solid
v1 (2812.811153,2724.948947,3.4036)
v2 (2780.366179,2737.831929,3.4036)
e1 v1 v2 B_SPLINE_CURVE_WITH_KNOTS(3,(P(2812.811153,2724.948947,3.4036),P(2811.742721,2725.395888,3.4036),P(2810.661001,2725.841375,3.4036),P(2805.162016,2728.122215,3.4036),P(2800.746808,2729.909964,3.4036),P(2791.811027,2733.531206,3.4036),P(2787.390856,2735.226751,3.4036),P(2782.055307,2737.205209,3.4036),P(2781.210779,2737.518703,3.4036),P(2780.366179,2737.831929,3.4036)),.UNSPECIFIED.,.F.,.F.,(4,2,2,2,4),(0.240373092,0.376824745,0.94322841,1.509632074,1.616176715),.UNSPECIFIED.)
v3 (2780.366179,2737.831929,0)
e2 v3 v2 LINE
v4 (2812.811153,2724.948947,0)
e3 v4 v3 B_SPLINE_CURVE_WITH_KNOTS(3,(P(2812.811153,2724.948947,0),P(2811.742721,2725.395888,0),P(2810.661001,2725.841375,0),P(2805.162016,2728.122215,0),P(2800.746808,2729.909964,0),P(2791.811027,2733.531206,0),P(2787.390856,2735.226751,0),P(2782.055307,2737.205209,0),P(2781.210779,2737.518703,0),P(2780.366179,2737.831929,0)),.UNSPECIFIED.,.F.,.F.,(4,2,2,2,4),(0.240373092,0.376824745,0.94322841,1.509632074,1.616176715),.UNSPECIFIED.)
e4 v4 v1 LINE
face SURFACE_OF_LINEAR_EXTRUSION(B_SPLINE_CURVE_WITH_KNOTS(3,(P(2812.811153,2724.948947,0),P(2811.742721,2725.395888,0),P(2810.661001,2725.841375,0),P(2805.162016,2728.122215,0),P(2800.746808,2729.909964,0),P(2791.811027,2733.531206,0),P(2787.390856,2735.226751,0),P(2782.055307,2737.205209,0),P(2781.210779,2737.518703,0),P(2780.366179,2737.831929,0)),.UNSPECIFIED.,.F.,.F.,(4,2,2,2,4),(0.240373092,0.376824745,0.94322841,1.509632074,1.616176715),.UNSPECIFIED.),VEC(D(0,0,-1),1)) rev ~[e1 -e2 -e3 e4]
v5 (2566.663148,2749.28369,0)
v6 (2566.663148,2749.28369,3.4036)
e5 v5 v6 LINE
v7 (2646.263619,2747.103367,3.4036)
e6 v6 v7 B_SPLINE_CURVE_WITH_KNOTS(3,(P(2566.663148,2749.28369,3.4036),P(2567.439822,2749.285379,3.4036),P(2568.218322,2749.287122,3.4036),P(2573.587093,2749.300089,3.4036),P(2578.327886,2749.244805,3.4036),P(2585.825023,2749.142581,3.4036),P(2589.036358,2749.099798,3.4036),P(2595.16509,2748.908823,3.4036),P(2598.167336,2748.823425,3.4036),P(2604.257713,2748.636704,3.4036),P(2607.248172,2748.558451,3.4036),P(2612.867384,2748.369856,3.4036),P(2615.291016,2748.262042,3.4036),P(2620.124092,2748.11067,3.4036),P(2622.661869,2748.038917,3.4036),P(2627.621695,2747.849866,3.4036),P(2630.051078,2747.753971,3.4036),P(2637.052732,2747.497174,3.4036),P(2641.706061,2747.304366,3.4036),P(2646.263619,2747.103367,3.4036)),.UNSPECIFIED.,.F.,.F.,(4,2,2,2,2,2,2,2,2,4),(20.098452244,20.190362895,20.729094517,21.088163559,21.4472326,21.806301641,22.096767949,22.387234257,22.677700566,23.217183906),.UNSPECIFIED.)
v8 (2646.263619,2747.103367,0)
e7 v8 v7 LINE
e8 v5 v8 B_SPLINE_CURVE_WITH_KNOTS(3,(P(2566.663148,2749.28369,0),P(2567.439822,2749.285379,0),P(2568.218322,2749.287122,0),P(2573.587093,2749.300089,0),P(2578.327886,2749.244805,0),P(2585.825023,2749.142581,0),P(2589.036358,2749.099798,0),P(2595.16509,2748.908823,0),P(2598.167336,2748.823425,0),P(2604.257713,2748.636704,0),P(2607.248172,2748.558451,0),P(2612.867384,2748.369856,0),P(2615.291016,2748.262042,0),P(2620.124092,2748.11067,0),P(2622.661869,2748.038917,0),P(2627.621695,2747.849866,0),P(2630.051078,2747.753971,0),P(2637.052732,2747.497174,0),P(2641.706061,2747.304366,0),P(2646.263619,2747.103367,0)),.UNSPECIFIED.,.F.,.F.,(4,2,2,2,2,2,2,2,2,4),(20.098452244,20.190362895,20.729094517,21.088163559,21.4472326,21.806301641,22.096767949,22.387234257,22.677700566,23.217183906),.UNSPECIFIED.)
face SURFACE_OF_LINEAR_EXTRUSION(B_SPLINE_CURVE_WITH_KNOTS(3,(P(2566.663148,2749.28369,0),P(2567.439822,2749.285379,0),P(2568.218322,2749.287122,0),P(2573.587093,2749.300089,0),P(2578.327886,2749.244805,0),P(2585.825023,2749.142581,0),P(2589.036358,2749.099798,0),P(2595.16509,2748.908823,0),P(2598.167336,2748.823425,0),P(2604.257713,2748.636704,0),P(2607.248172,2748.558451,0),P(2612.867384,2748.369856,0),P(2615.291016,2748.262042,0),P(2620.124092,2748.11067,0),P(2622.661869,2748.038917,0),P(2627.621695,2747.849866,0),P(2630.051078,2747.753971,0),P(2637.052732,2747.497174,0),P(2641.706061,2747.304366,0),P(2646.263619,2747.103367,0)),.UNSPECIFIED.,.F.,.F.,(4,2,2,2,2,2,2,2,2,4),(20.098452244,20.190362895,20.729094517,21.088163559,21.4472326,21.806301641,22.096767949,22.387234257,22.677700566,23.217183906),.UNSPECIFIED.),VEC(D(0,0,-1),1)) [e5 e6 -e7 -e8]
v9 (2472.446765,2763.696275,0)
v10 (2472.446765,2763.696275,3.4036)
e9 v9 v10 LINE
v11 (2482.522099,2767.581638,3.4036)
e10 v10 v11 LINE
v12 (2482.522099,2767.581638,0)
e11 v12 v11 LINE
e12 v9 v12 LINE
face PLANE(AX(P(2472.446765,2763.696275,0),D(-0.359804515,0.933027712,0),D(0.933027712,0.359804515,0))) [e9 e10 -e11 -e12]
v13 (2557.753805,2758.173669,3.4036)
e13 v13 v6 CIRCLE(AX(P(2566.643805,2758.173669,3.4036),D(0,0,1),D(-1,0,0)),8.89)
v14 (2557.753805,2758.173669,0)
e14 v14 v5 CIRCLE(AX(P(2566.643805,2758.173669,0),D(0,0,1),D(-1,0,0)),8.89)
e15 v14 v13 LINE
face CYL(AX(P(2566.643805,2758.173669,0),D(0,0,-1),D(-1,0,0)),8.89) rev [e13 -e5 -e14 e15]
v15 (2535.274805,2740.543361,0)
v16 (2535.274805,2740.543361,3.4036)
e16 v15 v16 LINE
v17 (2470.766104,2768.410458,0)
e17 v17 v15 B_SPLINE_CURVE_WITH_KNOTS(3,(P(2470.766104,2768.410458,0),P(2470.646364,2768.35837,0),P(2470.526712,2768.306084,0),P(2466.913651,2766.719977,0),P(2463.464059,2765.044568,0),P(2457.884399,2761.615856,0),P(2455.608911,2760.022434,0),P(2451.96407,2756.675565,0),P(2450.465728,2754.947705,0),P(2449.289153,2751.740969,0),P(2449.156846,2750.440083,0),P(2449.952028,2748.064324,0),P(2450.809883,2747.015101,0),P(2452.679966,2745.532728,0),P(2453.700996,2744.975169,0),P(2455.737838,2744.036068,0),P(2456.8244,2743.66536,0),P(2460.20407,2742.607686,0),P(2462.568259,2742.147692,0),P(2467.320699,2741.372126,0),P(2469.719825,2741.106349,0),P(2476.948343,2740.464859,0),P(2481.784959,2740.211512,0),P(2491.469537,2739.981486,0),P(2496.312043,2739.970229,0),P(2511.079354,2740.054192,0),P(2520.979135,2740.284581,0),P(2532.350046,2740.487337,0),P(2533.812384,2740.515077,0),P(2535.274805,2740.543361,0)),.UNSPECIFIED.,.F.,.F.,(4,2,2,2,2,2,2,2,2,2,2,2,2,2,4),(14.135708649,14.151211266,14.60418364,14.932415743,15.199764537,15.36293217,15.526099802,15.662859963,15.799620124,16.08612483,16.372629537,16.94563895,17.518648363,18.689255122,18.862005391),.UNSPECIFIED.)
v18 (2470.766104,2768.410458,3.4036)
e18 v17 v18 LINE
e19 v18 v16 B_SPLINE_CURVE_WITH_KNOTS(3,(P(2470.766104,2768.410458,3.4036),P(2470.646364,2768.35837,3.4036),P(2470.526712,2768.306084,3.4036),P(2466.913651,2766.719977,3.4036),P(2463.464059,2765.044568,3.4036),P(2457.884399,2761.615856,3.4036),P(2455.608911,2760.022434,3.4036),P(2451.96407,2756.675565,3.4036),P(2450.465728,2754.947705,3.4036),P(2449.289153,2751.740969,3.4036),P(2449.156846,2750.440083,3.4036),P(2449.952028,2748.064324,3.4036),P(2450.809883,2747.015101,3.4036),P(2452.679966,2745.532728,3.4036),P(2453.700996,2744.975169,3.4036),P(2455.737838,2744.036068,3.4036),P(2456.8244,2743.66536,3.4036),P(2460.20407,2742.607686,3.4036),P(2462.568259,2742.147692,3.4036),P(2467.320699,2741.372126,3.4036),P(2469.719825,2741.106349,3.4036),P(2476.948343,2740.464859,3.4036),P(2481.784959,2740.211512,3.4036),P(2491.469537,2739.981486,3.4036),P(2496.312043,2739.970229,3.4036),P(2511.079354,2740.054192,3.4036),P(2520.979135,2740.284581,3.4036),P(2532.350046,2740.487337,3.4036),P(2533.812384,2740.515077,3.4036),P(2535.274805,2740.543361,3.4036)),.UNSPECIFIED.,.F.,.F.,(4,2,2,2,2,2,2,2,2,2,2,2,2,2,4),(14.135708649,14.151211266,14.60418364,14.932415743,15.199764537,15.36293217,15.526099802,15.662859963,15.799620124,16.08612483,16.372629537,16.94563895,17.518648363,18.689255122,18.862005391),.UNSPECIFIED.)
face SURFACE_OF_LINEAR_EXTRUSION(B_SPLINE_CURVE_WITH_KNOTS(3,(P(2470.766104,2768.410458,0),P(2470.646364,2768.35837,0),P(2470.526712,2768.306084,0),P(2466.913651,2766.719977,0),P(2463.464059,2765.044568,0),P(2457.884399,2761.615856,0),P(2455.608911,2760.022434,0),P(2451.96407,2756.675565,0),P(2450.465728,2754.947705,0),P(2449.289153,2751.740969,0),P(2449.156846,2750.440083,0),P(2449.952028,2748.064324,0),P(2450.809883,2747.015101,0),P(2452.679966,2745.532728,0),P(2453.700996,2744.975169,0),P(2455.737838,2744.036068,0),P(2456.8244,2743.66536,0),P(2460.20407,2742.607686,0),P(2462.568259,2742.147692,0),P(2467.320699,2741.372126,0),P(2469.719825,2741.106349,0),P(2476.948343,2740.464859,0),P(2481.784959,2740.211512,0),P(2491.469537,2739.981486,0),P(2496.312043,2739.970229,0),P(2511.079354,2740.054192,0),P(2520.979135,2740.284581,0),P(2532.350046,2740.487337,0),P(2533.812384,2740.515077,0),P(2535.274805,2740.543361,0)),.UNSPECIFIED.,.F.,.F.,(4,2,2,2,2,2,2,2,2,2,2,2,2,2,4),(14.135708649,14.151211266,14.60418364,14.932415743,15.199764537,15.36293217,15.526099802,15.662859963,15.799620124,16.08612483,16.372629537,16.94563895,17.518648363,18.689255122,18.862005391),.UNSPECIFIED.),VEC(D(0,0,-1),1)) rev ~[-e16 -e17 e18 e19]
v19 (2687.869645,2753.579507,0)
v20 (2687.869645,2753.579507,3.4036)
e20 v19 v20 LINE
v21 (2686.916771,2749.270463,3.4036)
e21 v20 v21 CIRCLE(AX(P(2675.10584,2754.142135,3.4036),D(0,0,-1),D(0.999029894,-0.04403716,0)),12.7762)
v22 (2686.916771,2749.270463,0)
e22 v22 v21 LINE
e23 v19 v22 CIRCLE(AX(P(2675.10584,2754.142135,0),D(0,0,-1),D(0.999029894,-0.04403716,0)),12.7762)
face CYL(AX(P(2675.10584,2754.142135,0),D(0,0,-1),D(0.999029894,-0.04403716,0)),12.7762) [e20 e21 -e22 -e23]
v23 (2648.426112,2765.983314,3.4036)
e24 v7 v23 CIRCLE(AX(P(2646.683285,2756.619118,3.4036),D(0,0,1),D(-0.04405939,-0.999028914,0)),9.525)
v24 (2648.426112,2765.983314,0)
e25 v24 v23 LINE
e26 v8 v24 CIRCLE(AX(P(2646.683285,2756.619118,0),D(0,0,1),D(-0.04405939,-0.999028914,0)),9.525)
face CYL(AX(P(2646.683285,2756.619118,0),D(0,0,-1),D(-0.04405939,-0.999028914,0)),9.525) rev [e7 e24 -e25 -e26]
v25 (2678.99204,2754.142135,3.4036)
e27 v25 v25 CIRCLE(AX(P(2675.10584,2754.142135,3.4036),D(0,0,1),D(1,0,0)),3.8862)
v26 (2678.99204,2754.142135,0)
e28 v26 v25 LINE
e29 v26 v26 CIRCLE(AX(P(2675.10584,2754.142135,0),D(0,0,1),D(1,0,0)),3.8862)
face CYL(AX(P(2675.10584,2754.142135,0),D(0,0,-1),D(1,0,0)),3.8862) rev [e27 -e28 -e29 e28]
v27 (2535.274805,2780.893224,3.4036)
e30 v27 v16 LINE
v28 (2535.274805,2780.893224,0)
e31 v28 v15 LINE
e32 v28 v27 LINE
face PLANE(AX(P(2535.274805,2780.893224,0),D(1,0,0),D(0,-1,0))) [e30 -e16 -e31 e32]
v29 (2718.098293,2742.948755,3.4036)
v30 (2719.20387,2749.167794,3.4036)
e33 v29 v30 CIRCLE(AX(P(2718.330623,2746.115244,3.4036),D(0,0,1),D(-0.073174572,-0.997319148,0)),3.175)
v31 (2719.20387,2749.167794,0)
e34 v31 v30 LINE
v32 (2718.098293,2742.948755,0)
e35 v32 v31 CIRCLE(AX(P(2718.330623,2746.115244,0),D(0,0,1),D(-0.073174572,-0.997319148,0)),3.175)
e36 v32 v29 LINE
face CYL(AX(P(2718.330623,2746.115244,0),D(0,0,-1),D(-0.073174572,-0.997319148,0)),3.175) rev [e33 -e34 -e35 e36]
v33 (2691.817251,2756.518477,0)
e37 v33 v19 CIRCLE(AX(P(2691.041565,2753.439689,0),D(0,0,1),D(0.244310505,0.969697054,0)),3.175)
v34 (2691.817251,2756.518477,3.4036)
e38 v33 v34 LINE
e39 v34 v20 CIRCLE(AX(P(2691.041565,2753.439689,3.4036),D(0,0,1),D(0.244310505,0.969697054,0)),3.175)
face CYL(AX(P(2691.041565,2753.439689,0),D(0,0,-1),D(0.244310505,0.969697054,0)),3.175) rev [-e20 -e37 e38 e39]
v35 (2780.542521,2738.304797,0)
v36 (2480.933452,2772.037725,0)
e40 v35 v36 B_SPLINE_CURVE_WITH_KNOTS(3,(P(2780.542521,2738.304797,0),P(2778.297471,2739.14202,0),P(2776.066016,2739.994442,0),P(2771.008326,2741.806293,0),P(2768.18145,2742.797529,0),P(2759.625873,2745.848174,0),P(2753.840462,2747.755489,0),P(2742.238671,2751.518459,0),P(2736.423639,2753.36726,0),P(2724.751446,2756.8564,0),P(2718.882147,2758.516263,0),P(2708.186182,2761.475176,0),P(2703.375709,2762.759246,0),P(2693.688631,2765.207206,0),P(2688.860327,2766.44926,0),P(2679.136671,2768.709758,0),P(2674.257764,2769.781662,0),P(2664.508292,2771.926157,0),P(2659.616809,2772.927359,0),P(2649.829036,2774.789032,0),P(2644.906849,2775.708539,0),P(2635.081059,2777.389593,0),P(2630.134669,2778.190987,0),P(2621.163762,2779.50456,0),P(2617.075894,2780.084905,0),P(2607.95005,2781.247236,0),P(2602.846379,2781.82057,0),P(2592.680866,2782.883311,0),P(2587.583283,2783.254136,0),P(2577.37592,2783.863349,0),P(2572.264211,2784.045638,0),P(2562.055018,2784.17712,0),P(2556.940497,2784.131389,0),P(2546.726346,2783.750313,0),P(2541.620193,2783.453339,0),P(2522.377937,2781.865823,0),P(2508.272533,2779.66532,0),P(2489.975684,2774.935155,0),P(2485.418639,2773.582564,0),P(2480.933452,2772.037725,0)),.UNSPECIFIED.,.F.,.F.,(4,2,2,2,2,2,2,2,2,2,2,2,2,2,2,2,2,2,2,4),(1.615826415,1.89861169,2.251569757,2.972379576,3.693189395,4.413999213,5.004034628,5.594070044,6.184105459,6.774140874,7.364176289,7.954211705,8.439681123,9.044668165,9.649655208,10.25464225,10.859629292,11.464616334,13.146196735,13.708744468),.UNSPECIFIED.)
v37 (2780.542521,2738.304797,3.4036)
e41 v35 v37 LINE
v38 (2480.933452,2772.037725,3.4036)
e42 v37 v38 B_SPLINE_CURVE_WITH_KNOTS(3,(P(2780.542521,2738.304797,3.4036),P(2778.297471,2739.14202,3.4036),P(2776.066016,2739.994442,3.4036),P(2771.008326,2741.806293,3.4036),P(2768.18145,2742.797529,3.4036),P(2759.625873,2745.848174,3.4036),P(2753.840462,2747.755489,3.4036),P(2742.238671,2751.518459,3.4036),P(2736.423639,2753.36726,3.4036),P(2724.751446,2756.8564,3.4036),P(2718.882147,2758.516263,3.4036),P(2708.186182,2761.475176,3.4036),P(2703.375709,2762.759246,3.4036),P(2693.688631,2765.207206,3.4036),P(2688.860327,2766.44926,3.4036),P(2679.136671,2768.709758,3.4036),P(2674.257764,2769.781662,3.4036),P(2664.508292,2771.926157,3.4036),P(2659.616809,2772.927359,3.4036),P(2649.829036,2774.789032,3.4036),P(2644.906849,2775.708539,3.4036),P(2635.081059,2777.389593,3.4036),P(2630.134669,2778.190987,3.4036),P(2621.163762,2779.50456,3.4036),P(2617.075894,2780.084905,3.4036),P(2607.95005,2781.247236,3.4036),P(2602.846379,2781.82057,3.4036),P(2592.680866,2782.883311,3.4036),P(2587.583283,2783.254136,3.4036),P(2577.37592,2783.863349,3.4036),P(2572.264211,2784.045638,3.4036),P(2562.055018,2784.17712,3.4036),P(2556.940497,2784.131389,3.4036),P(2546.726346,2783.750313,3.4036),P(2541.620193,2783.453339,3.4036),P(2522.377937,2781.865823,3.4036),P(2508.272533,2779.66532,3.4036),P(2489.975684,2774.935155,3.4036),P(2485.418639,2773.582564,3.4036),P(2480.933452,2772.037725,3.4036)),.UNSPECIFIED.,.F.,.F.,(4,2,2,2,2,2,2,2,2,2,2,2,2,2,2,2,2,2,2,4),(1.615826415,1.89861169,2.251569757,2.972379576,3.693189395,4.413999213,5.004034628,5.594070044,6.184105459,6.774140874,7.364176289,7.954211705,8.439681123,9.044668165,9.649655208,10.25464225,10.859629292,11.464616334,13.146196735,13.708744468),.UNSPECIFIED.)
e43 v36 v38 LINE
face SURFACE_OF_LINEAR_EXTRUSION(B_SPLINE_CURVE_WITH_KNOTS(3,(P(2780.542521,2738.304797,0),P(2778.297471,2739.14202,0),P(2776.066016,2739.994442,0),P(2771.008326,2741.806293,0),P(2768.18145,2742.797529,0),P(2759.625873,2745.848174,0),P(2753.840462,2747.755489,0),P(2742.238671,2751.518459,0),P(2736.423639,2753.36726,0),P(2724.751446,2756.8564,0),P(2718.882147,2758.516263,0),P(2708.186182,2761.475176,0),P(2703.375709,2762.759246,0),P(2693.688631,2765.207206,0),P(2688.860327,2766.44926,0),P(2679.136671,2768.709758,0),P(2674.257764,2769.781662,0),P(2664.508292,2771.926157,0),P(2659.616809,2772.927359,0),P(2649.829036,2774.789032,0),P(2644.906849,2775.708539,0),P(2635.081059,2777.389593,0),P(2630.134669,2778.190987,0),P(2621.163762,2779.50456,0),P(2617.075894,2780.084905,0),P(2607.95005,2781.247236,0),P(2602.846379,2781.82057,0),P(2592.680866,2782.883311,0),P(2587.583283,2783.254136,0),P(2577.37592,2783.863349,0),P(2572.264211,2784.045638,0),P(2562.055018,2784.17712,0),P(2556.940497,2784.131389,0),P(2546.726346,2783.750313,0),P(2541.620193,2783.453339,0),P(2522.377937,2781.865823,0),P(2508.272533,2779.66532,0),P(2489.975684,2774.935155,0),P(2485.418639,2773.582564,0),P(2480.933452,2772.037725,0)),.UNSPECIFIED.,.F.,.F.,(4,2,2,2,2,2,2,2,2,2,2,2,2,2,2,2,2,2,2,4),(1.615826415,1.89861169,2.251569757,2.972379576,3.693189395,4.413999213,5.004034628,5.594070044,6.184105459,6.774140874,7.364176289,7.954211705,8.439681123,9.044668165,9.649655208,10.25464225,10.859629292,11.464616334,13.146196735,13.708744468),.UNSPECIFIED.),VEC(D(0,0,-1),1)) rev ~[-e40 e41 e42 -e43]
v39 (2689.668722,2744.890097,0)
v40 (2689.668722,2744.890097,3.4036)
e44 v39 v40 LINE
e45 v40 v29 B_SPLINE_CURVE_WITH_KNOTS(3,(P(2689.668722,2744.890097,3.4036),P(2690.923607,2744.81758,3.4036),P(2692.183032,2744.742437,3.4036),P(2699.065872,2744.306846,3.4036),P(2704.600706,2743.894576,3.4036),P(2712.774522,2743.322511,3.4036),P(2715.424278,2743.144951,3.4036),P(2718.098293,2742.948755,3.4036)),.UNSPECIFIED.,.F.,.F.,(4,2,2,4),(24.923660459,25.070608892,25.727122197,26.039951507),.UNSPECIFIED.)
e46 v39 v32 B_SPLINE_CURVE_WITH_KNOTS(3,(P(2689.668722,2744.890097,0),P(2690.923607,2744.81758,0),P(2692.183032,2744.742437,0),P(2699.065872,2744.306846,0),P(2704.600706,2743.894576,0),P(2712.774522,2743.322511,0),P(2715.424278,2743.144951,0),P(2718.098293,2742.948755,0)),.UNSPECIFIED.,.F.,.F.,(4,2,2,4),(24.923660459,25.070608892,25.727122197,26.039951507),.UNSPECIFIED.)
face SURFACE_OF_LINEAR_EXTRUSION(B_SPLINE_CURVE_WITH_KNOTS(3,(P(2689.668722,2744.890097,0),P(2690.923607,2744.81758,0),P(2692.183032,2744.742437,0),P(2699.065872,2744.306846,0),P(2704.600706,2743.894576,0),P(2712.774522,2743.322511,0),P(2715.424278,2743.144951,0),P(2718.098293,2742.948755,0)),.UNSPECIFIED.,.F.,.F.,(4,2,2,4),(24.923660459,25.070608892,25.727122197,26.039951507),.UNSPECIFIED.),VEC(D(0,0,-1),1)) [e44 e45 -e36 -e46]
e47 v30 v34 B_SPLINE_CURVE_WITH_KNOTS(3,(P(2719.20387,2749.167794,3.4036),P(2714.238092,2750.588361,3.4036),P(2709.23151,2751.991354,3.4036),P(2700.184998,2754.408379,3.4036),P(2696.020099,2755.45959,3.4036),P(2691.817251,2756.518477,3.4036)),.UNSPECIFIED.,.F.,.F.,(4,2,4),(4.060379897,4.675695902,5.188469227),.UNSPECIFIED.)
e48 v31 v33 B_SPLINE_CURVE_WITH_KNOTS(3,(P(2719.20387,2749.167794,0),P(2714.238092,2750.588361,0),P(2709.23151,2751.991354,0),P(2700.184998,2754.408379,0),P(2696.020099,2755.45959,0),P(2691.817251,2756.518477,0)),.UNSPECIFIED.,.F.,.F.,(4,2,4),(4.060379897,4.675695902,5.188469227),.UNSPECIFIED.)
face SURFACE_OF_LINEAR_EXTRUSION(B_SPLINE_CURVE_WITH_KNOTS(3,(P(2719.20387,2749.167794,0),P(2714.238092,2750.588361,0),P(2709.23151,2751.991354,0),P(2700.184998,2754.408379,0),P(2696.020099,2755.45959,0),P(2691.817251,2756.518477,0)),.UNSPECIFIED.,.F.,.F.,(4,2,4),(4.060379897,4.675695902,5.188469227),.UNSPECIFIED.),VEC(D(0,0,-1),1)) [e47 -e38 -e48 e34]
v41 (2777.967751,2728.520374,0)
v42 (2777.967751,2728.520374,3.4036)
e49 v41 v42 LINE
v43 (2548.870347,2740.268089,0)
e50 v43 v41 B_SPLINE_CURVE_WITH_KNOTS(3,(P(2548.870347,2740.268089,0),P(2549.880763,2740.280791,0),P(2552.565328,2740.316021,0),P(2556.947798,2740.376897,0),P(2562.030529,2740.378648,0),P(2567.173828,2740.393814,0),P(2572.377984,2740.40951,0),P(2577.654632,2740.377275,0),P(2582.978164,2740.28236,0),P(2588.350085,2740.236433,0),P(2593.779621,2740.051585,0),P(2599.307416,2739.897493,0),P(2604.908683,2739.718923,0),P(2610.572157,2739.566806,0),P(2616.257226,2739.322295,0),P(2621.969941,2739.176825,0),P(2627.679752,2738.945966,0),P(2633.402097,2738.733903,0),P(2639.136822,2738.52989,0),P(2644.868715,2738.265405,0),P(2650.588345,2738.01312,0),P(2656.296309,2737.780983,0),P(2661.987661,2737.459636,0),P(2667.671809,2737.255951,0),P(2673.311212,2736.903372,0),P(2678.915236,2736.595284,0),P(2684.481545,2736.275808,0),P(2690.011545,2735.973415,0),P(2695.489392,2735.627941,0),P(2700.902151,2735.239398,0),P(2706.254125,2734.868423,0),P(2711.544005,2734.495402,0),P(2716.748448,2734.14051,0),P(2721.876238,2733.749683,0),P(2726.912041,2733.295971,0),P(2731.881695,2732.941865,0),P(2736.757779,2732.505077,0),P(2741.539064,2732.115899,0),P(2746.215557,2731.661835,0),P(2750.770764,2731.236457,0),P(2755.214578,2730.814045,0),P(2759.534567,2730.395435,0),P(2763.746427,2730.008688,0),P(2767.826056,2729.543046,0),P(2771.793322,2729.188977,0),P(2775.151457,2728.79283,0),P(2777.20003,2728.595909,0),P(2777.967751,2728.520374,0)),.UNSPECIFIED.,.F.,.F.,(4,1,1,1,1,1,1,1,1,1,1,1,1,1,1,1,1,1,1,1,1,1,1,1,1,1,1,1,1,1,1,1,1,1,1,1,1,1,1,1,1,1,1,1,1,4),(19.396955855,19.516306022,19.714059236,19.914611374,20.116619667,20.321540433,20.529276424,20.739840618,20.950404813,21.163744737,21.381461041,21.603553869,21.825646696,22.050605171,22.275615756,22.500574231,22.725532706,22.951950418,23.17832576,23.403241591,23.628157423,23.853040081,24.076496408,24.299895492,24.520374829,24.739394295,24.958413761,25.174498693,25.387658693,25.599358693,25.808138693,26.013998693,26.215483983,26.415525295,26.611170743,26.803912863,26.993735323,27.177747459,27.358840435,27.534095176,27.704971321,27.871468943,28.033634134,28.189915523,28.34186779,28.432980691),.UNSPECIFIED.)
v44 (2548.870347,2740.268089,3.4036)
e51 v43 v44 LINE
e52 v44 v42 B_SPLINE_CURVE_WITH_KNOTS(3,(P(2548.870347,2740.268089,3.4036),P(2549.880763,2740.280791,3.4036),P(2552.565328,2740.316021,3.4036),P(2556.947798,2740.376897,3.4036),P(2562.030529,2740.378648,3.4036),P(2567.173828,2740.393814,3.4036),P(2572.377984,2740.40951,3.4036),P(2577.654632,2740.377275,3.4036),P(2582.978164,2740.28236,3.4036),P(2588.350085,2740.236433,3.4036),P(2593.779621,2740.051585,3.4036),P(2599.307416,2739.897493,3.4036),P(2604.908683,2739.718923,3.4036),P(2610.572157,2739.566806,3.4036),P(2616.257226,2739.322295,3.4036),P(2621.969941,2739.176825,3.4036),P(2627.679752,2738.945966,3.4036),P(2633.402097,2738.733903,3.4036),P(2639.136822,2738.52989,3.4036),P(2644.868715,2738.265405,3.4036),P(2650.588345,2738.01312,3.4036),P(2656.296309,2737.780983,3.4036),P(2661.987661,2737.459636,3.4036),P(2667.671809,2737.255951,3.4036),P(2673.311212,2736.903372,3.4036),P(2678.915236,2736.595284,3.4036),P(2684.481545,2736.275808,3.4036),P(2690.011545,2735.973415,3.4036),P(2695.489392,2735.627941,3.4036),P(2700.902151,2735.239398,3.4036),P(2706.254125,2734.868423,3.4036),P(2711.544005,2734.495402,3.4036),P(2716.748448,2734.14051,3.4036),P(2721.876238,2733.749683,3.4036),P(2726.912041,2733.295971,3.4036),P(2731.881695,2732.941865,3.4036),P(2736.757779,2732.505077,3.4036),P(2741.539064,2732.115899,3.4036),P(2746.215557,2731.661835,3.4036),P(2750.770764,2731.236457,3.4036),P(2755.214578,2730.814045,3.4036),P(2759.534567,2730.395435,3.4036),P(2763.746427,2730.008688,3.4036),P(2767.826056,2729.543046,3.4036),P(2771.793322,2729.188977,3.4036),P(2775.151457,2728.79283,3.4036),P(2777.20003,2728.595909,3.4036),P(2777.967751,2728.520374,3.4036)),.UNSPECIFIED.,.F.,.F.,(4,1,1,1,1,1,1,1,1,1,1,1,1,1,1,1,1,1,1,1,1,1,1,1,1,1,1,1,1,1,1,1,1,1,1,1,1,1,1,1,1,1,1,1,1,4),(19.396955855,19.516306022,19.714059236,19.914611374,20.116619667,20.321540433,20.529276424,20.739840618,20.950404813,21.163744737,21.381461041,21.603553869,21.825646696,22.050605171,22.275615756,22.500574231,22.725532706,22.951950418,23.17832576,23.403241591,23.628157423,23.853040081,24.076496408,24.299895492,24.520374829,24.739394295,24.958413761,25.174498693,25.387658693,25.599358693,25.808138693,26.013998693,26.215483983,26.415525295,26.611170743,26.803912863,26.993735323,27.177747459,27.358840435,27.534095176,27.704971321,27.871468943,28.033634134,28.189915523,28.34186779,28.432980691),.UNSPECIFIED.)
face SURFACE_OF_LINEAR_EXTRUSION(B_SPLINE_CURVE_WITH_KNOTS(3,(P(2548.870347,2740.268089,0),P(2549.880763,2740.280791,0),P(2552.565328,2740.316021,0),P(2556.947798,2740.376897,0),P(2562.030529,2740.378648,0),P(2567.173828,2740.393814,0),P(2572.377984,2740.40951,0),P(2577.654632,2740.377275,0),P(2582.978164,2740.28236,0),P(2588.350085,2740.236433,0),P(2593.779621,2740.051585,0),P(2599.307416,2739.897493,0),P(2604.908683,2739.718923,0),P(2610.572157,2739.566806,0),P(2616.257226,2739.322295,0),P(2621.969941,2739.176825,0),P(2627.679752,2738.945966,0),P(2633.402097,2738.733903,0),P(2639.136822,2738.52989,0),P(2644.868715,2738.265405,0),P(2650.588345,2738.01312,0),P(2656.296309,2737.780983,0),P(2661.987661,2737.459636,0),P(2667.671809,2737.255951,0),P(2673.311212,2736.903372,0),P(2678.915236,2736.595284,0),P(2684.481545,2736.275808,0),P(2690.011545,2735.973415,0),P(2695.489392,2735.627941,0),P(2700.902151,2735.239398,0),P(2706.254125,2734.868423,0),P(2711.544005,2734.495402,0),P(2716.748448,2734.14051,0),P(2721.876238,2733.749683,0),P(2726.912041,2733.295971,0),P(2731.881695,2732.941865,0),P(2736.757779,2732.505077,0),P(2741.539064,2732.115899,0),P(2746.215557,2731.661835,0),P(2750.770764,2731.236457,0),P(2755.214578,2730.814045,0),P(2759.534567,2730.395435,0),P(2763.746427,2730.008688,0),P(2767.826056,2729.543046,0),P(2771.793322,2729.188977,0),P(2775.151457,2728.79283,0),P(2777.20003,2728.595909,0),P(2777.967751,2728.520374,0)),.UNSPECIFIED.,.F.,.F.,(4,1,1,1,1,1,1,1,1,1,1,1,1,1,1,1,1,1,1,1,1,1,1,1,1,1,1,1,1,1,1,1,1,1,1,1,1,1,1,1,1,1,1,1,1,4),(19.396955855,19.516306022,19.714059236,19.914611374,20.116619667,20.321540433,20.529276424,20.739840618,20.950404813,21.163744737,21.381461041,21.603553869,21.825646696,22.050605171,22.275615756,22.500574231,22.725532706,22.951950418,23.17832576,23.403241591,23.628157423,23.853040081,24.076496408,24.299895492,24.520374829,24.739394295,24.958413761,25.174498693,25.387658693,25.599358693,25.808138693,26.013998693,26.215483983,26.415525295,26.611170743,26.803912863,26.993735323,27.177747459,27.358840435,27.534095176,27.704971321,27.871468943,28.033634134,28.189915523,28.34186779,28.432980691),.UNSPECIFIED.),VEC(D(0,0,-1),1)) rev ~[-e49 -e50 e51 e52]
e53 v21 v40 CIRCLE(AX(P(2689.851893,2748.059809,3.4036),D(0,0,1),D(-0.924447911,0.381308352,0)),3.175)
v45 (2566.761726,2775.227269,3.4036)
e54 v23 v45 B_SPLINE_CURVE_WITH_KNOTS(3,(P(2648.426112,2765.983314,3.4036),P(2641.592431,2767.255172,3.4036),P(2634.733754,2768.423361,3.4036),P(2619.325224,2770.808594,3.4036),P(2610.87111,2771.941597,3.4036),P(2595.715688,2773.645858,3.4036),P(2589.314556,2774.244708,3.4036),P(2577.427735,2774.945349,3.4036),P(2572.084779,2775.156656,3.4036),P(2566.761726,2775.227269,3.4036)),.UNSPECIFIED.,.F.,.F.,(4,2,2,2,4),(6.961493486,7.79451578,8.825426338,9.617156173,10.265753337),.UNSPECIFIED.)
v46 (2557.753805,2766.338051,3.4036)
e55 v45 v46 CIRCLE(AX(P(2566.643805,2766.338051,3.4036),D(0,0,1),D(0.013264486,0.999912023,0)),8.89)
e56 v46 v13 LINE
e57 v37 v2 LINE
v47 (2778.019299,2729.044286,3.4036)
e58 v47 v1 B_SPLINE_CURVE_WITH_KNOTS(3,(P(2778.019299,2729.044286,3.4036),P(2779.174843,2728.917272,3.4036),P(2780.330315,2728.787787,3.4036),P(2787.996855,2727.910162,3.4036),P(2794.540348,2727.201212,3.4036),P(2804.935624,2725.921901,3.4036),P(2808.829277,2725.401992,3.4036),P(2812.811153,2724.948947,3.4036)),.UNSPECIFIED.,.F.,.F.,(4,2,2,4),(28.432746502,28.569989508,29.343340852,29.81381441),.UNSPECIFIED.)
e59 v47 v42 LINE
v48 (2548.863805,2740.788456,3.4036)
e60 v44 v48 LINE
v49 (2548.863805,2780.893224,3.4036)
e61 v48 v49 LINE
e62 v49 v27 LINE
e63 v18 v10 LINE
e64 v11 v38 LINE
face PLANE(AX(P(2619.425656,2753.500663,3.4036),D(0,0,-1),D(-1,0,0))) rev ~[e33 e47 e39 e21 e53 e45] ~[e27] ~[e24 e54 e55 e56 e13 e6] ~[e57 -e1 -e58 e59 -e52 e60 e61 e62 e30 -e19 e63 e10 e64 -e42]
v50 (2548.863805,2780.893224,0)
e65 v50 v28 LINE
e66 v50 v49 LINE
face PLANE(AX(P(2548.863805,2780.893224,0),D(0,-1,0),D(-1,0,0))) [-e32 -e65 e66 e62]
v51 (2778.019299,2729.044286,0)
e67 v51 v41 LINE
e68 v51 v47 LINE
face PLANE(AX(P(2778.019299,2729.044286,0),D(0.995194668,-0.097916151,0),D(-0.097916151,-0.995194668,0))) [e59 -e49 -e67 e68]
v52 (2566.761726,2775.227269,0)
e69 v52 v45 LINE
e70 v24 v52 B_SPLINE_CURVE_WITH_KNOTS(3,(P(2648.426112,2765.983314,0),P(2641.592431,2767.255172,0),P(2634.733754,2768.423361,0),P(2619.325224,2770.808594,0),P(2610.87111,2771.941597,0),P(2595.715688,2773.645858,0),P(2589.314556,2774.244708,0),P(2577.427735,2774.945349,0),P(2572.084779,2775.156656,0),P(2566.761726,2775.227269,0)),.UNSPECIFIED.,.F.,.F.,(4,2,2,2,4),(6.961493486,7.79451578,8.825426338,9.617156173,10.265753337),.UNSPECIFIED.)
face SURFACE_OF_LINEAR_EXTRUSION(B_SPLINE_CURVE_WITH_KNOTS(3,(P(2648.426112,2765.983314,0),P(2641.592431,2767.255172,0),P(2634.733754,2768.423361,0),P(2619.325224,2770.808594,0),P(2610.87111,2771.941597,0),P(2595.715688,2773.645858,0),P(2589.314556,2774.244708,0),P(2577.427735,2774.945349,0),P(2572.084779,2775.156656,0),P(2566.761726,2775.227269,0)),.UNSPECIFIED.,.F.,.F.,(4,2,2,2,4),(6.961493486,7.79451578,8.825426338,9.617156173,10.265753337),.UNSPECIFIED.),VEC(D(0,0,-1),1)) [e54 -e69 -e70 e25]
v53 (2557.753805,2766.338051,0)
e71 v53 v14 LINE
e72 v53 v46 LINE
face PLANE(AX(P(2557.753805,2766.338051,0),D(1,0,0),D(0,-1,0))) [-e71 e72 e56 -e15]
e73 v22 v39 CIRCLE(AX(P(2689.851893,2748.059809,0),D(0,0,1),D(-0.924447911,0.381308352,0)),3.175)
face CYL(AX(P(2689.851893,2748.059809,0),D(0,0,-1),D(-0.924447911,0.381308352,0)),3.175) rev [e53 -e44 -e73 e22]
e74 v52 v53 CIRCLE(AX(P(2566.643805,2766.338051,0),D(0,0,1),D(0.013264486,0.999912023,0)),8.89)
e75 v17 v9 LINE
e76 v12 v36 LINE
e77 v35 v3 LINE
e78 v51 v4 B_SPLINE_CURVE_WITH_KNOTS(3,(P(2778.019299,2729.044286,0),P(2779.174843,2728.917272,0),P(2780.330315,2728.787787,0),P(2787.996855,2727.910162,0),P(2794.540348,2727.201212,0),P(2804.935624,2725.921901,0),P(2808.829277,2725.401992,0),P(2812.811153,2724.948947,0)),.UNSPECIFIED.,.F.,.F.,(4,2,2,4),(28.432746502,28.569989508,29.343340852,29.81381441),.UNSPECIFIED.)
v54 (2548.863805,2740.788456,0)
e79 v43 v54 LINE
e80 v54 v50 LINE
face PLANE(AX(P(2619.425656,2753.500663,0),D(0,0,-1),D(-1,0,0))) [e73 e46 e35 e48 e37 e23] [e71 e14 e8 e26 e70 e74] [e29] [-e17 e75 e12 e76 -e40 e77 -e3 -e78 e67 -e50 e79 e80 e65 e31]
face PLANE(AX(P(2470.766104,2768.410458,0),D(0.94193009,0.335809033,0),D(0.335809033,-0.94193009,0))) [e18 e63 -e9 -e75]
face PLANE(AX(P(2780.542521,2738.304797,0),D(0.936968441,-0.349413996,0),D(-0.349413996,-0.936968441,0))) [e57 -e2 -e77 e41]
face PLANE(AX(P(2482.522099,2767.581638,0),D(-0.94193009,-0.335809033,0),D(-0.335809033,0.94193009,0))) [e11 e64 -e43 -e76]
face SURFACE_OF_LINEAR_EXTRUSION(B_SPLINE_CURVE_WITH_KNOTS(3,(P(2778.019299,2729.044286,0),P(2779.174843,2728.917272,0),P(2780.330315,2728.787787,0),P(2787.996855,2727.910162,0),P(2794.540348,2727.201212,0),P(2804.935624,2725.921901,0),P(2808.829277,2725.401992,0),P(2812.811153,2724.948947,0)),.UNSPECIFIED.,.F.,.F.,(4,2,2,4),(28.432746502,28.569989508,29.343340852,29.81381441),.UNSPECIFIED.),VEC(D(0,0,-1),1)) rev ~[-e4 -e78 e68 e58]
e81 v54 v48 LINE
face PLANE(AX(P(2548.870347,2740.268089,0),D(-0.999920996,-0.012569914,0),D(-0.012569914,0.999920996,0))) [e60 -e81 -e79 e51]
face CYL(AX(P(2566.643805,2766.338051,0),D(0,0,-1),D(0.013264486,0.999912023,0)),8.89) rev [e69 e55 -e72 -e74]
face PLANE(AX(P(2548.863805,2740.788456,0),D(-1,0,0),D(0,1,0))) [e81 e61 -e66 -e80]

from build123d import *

# Parameters (mm, degrees)
BOSS_EXTRUDE1_DEPTH = 3.4036


with BuildPart() as part:
    # Sketch2 → Boss-Extrude1 (new body)
    with BuildSketch(Plane.XY):
        with BuildLine():
            Line((2535.274805049, 2780.893223643), (2535.274805049, 2740.543361122))
            add(Edge.make_bspline(
                [(2470.766103702, 2768.410457858), (2470.646363815, 2768.358370186), (2470.526712246, 2768.306083676), (2466.913650609, 2766.719977087), (2463.464058775, 2765.044567586), (2457.884399007, 2761.615856063), (2455.608911301, 2760.022433856), (2451.964070041, 2756.675565287), (2450.465728267, 2754.947704601), (2449.289153427, 2751.740968519), (2449.156845546, 2750.440082954), (2449.952027869, 2748.064324238), (2450.809883366, 2747.015100953), (2452.679965619, 2745.532727698), (2453.700996299, 2744.975168564), (2455.737837909, 2744.036068031), (2456.824400221, 2743.665360108), (2460.204069688, 2742.607686032), (2462.568258916, 2742.14769235), (2467.320698583, 2741.37212577), (2469.719825171, 2741.106348945), (2476.948343474, 2740.464859033), (2481.784959026, 2740.2115118), (2491.469537197, 2739.981485553), (2496.312043463, 2739.970228934), (2511.07935418, 2740.05419246), (2520.979134882, 2740.284580717), (2532.350045622, 2740.487337232), (2533.812383917, 2740.515077162), (2535.274805049, 2740.543361122)],
                knots=[14.135708649, 14.135708649, 14.135708649, 14.135708649, 14.151211266, 14.151211266, 14.60418364, 14.60418364, 14.932415743, 14.932415743, 15.199764537, 15.199764537, 15.36293217, 15.36293217, 15.526099802, 15.526099802, 15.662859963, 15.662859963, 15.799620124, 15.799620124, 16.08612483, 16.08612483, 16.372629537, 16.372629537, 16.94563895, 16.94563895, 17.518648363, 17.518648363, 18.689255122, 18.689255122, 18.862005391, 18.862005391, 18.862005391, 18.862005391], degree=3))
            Line((2470.766103702, 2768.410457858), (2472.446764627, 2763.696275266))
            Line((2472.446764627, 2763.696275266), (2482.522098625, 2767.581637536))
            Line((2482.522098625, 2767.581637536), (2480.933451784, 2772.037724527))
            add(Edge.make_bspline(
                [(2780.542520861, 2738.304796601), (2778.297471279, 2739.142019831), (2776.066016024, 2739.994442341), (2771.008325617, 2741.806292996), (2768.18144962, 2742.797529212), (2759.625872554, 2745.848173798), (2753.840462047, 2747.755489462), (2742.238670832, 2751.518458512), (2736.423638946, 2753.367260119), (2724.751445821, 2756.856399923), (2718.882147108, 2758.516262971), (2708.186181794, 2761.475176204), (2703.375708913, 2762.759245987), (2693.688631483, 2765.207206449), (2688.860326868, 2766.449259942), (2679.136671431, 2768.709757651), (2674.257764472, 2769.781661922), (2664.508292075, 2771.926157494), (2659.616809192, 2772.927359188), (2649.829036467, 2774.78903222), (2644.906848922, 2775.708538585), (2635.081058528, 2777.389593315), (2630.134669196, 2778.190987447), (2621.163761513, 2779.504560399), (2617.075894031, 2780.084905445), (2607.950050259, 2781.247235699), (2602.846379088, 2781.820569992), (2592.680866333, 2782.883311443), (2587.583282915, 2783.254135837), (2577.37591978, 2783.863348746), (2572.264211381, 2784.045638297), (2562.055017904, 2784.177120229), (2556.940496788, 2784.131389377), (2546.726345746, 2783.750312928), (2541.620193263, 2783.45333894), (2522.377936656, 2781.865822712), (2508.272533492, 2779.665319702), (2489.975683566, 2774.935155246), (2485.418638544, 2773.582563598), (2480.933451784, 2772.037724527)],
                knots=[1.615826415, 1.615826415, 1.615826415, 1.615826415, 1.89861169, 1.89861169, 2.251569757, 2.251569757, 2.972379576, 2.972379576, 3.693189395, 3.693189395, 4.413999213, 4.413999213, 5.004034628, 5.004034628, 5.594070044, 5.594070044, 6.184105459, 6.184105459, 6.774140874, 6.774140874, 7.364176289, 7.364176289, 7.954211705, 7.954211705, 8.439681123, 8.439681123, 9.044668165, 9.044668165, 9.649655208, 9.649655208, 10.25464225, 10.25464225, 10.859629292, 10.859629292, 11.464616334, 11.464616334, 13.146196735, 13.146196735, 13.708744468, 13.708744468, 13.708744468, 13.708744468], degree=3))
            Line((2780.542520861, 2738.304796601), (2780.366179259, 2737.831929121))
            add(Edge.make_bspline(
                [(2812.811153408, 2724.948946669), (2811.742721472, 2725.395887757), (2810.661000778, 2725.841374778), (2805.162016263, 2728.122214921), (2800.746808293, 2729.909964469), (2791.811027497, 2733.531206027), (2787.390855916, 2735.226750848), (2782.055306735, 2737.205208616), (2781.210779035, 2737.518702972), (2780.366179259, 2737.831929121)],
                knots=[0.240373092, 0.240373092, 0.240373092, 0.240373092, 0.376824745, 0.376824745, 0.94322841, 0.94322841, 1.509632074, 1.509632074, 1.616176715, 1.616176715, 1.616176715, 1.616176715], degree=3))
            add(Edge.make_bspline(
                [(2778.019298543, 2729.044285785), (2779.174843082, 2728.917272472), (2780.33031454, 2728.787786942), (2787.996855373, 2727.910162037), (2794.540348084, 2727.201211519), (2804.935623835, 2725.921900676), (2808.829276968, 2725.401991523), (2812.811153408, 2724.948946669)],
                knots=[28.432746502, 28.432746502, 28.432746502, 28.432746502, 28.569989508, 28.569989508, 29.343340852, 29.343340852, 29.81381441, 29.81381441, 29.81381441, 29.81381441], degree=3))
            Line((2778.019298543, 2729.044285785), (2777.967751396, 2728.520373794))
            add(Edge.make_bspline(
                [(2548.870346536, 2740.268089351), (2549.880763048, 2740.280791201), (2552.565327641, 2740.3160213), (2556.947797606, 2740.376897376), (2562.030529235, 2740.378648073), (2567.173828356, 2740.39381358), (2572.377983544, 2740.409509961), (2577.654631688, 2740.377274897), (2582.978163683, 2740.28236022), (2588.350084988, 2740.236433315), (2593.779620592, 2740.051584682), (2599.307416132, 2739.897493113), (2604.908682597, 2739.718922546), (2610.572157053, 2739.566806388), (2616.257225785, 2739.322295029), (2621.969941233, 2739.17682533), (2627.679751972, 2738.945966374), (2633.40209681, 2738.733903132), (2639.136822152, 2738.529890084), (2644.868715349, 2738.265404796), (2650.588345306, 2738.013120304), (2656.296308508, 2737.780983088), (2661.987661359, 2737.459636088), (2667.671808974, 2737.255951086), (2673.311212153, 2736.903371818), (2678.915236244, 2736.595284197), (2684.481545426, 2736.275807889), (2690.011544993, 2735.973414703), (2695.489391996, 2735.627941228), (2700.902150582, 2735.239398457), (2706.254125464, 2734.868422551), (2711.544005033, 2734.495402469), (2716.748448208, 2734.140509688), (2721.876237554, 2733.749682567), (2726.912041029, 2733.295970625), (2731.881695192, 2732.941864964), (2736.757779223, 2732.505077311), (2741.539063821, 2732.115898579), (2746.215557291, 2731.661834713), (2750.770763986, 2731.236456626), (2755.214578157, 2730.814044563), (2759.534567055, 2730.395435297), (2763.74642736, 2730.008688105), (2767.826055945, 2729.543045622), (2771.793322217, 2729.188977061), (2775.151456937, 2728.792829736), (2777.200029602, 2728.59590913), (2777.967751396, 2728.520373794)],
                knots=[19.396955855, 19.396955855, 19.396955855, 19.396955855, 19.516306022, 19.714059236, 19.914611374, 20.116619667, 20.321540433, 20.529276424, 20.739840618, 20.950404813, 21.163744737, 21.381461041, 21.603553869, 21.825646696, 22.050605171, 22.275615756, 22.500574231, 22.725532706, 22.951950418, 23.17832576, 23.403241591, 23.628157423, 23.853040081, 24.076496408, 24.299895492, 24.520374829, 24.739394295, 24.958413761, 25.174498693, 25.387658693, 25.599358693, 25.808138693, 26.013998693, 26.215483983, 26.415525295, 26.611170743, 26.803912863, 26.993735323, 27.177747459, 27.358840435, 27.534095176, 27.704971321, 27.871468943, 28.033634134, 28.189915523, 28.34186779, 28.432980691, 28.432980691, 28.432980691, 28.432980691], degree=3))
            Line((2548.870346536, 2740.268089351), (2548.863805049, 2740.7884565))
            Line((2548.863805049, 2740.7884565), (2548.863805049, 2780.893223643))
            Line((2548.863805049, 2780.893223643), (2535.274805049, 2780.893223643))
        make_face()
        with BuildLine():
            Line((2557.75380505, 2766.338051462), (2557.753805049, 2758.173668513))
            ThreePointArc((2557.753805049, 2758.173668513), (2560.364468394, 2751.880654039), (2566.663148395, 2749.283689557))
            add(Edge.make_bspline(
                [(2566.663148395, 2749.283689557), (2567.439822141, 2749.28537949), (2568.21832178, 2749.287121889), (2573.587092614, 2749.300089397), (2578.32788588, 2749.244805303), (2585.825022944, 2749.142581173), (2589.036358319, 2749.0997975), (2595.165089719, 2748.908822657), (2598.167336091, 2748.823424784), (2604.257712531, 2748.63670442), (2607.248172017, 2748.558450952), (2612.867384093, 2748.369855698), (2615.291016485, 2748.262041663), (2620.124092488, 2748.110670374), (2622.661869101, 2748.038916534), (2627.621694753, 2747.849865673), (2630.051078266, 2747.753970997), (2637.052732353, 2747.497174336), (2641.706061455, 2747.304365544), (2646.263618968, 2747.103367152)],
                knots=[20.098452244, 20.098452244, 20.098452244, 20.098452244, 20.190362895, 20.190362895, 20.729094517, 20.729094517, 21.088163559, 21.088163559, 21.4472326, 21.4472326, 21.806301641, 21.806301641, 22.096767949, 22.096767949, 22.387234257, 22.387234257, 22.677700566, 22.677700566, 23.217183906, 23.217183906, 23.217183906, 23.217183906], degree=3))
            ThreePointArc((2646.263618968, 2747.103367152), (2656.146412526, 2755.535219019), (2648.426111877, 2765.983314171))
            add(Edge.make_bspline(
                [(2648.426111877, 2765.983314171), (2641.59243129, 2767.255171757), (2634.73375431, 2768.423361294), (2619.325224165, 2770.808594123), (2610.871110121, 2771.941596635), (2595.715687801, 2773.645858456), (2589.314555675, 2774.244707548), (2577.427735136, 2774.945348879), (2572.084779046, 2775.156655575), (2566.761726328, 2775.227269345)],
                knots=[6.961493486, 6.961493486, 6.961493486, 6.961493486, 7.79451578, 7.79451578, 8.825426338, 8.825426338, 9.617156173, 9.617156173, 10.265753337, 10.265753337, 10.265753337, 10.265753337], degree=3))
            ThreePointArc((2566.761726328, 2775.227269345), (2560.399456411, 2772.66578487), (2557.75380505, 2766.338051462))
        make_face(mode=Mode.SUBTRACT)
        with BuildLine():
            ThreePointArc((2718.098293363, 2742.948755457), (2721.456611216, 2745.559527675), (2719.203869949, 2749.167794179))
            add(Edge.make_bspline(
                [(2719.203869949, 2749.167794179), (2714.238092072, 2750.588361117), (2709.231509514, 2751.991354341), (2700.184998092, 2754.408379133), (2696.020099344, 2755.459590051), (2691.817251109, 2756.518477433)],
                knots=[4.060379897, 4.060379897, 4.060379897, 4.060379897, 4.675695902, 4.675695902, 5.188469227, 5.188469227, 5.188469227, 5.188469227], degree=3))
            ThreePointArc((2691.817251109, 2756.518477433), (2689.145550797, 2755.986403674), (2687.869645343, 2753.579507267))
            ThreePointArc((2687.869645343, 2753.579507267), (2687.580669946, 2751.383531079), (2686.916771023, 2749.270463069))
            ThreePointArc((2686.916771023, 2749.270463069), (2687.163429033, 2746.37078989), (2689.668722188, 2744.890097174))
            add(Edge.make_bspline(
                [(2689.668722188, 2744.890097174), (2690.923606701, 2744.817580048), (2692.18303199, 2744.742436563), (2699.065872366, 2744.306846173), (2704.600706314, 2743.894576065), (2712.774522449, 2743.322510938), (2715.42427843, 2743.144951328), (2718.098293363, 2742.948755457)],
                knots=[24.923660459, 24.923660459, 24.923660459, 24.923660459, 25.070608892, 25.070608892, 25.727122197, 25.727122197, 26.039951507, 26.039951507, 26.039951507, 26.039951507], degree=3))
        make_face(mode=Mode.SUBTRACT)
        with BuildLine():
            ThreePointArc((2671.219639614, 2754.142134825), (2675.105839614, 2750.255934825), (2678.992039614, 2754.142134825))
            ThreePointArc((2678.992039614, 2754.142134825), (2675.105839614, 2758.028334825), (2671.219639614, 2754.142134825))
        make_face(mode=Mode.SUBTRACT)
    extrude(amount=BOSS_EXTRUDE1_DEPTH)


solid = part.part
